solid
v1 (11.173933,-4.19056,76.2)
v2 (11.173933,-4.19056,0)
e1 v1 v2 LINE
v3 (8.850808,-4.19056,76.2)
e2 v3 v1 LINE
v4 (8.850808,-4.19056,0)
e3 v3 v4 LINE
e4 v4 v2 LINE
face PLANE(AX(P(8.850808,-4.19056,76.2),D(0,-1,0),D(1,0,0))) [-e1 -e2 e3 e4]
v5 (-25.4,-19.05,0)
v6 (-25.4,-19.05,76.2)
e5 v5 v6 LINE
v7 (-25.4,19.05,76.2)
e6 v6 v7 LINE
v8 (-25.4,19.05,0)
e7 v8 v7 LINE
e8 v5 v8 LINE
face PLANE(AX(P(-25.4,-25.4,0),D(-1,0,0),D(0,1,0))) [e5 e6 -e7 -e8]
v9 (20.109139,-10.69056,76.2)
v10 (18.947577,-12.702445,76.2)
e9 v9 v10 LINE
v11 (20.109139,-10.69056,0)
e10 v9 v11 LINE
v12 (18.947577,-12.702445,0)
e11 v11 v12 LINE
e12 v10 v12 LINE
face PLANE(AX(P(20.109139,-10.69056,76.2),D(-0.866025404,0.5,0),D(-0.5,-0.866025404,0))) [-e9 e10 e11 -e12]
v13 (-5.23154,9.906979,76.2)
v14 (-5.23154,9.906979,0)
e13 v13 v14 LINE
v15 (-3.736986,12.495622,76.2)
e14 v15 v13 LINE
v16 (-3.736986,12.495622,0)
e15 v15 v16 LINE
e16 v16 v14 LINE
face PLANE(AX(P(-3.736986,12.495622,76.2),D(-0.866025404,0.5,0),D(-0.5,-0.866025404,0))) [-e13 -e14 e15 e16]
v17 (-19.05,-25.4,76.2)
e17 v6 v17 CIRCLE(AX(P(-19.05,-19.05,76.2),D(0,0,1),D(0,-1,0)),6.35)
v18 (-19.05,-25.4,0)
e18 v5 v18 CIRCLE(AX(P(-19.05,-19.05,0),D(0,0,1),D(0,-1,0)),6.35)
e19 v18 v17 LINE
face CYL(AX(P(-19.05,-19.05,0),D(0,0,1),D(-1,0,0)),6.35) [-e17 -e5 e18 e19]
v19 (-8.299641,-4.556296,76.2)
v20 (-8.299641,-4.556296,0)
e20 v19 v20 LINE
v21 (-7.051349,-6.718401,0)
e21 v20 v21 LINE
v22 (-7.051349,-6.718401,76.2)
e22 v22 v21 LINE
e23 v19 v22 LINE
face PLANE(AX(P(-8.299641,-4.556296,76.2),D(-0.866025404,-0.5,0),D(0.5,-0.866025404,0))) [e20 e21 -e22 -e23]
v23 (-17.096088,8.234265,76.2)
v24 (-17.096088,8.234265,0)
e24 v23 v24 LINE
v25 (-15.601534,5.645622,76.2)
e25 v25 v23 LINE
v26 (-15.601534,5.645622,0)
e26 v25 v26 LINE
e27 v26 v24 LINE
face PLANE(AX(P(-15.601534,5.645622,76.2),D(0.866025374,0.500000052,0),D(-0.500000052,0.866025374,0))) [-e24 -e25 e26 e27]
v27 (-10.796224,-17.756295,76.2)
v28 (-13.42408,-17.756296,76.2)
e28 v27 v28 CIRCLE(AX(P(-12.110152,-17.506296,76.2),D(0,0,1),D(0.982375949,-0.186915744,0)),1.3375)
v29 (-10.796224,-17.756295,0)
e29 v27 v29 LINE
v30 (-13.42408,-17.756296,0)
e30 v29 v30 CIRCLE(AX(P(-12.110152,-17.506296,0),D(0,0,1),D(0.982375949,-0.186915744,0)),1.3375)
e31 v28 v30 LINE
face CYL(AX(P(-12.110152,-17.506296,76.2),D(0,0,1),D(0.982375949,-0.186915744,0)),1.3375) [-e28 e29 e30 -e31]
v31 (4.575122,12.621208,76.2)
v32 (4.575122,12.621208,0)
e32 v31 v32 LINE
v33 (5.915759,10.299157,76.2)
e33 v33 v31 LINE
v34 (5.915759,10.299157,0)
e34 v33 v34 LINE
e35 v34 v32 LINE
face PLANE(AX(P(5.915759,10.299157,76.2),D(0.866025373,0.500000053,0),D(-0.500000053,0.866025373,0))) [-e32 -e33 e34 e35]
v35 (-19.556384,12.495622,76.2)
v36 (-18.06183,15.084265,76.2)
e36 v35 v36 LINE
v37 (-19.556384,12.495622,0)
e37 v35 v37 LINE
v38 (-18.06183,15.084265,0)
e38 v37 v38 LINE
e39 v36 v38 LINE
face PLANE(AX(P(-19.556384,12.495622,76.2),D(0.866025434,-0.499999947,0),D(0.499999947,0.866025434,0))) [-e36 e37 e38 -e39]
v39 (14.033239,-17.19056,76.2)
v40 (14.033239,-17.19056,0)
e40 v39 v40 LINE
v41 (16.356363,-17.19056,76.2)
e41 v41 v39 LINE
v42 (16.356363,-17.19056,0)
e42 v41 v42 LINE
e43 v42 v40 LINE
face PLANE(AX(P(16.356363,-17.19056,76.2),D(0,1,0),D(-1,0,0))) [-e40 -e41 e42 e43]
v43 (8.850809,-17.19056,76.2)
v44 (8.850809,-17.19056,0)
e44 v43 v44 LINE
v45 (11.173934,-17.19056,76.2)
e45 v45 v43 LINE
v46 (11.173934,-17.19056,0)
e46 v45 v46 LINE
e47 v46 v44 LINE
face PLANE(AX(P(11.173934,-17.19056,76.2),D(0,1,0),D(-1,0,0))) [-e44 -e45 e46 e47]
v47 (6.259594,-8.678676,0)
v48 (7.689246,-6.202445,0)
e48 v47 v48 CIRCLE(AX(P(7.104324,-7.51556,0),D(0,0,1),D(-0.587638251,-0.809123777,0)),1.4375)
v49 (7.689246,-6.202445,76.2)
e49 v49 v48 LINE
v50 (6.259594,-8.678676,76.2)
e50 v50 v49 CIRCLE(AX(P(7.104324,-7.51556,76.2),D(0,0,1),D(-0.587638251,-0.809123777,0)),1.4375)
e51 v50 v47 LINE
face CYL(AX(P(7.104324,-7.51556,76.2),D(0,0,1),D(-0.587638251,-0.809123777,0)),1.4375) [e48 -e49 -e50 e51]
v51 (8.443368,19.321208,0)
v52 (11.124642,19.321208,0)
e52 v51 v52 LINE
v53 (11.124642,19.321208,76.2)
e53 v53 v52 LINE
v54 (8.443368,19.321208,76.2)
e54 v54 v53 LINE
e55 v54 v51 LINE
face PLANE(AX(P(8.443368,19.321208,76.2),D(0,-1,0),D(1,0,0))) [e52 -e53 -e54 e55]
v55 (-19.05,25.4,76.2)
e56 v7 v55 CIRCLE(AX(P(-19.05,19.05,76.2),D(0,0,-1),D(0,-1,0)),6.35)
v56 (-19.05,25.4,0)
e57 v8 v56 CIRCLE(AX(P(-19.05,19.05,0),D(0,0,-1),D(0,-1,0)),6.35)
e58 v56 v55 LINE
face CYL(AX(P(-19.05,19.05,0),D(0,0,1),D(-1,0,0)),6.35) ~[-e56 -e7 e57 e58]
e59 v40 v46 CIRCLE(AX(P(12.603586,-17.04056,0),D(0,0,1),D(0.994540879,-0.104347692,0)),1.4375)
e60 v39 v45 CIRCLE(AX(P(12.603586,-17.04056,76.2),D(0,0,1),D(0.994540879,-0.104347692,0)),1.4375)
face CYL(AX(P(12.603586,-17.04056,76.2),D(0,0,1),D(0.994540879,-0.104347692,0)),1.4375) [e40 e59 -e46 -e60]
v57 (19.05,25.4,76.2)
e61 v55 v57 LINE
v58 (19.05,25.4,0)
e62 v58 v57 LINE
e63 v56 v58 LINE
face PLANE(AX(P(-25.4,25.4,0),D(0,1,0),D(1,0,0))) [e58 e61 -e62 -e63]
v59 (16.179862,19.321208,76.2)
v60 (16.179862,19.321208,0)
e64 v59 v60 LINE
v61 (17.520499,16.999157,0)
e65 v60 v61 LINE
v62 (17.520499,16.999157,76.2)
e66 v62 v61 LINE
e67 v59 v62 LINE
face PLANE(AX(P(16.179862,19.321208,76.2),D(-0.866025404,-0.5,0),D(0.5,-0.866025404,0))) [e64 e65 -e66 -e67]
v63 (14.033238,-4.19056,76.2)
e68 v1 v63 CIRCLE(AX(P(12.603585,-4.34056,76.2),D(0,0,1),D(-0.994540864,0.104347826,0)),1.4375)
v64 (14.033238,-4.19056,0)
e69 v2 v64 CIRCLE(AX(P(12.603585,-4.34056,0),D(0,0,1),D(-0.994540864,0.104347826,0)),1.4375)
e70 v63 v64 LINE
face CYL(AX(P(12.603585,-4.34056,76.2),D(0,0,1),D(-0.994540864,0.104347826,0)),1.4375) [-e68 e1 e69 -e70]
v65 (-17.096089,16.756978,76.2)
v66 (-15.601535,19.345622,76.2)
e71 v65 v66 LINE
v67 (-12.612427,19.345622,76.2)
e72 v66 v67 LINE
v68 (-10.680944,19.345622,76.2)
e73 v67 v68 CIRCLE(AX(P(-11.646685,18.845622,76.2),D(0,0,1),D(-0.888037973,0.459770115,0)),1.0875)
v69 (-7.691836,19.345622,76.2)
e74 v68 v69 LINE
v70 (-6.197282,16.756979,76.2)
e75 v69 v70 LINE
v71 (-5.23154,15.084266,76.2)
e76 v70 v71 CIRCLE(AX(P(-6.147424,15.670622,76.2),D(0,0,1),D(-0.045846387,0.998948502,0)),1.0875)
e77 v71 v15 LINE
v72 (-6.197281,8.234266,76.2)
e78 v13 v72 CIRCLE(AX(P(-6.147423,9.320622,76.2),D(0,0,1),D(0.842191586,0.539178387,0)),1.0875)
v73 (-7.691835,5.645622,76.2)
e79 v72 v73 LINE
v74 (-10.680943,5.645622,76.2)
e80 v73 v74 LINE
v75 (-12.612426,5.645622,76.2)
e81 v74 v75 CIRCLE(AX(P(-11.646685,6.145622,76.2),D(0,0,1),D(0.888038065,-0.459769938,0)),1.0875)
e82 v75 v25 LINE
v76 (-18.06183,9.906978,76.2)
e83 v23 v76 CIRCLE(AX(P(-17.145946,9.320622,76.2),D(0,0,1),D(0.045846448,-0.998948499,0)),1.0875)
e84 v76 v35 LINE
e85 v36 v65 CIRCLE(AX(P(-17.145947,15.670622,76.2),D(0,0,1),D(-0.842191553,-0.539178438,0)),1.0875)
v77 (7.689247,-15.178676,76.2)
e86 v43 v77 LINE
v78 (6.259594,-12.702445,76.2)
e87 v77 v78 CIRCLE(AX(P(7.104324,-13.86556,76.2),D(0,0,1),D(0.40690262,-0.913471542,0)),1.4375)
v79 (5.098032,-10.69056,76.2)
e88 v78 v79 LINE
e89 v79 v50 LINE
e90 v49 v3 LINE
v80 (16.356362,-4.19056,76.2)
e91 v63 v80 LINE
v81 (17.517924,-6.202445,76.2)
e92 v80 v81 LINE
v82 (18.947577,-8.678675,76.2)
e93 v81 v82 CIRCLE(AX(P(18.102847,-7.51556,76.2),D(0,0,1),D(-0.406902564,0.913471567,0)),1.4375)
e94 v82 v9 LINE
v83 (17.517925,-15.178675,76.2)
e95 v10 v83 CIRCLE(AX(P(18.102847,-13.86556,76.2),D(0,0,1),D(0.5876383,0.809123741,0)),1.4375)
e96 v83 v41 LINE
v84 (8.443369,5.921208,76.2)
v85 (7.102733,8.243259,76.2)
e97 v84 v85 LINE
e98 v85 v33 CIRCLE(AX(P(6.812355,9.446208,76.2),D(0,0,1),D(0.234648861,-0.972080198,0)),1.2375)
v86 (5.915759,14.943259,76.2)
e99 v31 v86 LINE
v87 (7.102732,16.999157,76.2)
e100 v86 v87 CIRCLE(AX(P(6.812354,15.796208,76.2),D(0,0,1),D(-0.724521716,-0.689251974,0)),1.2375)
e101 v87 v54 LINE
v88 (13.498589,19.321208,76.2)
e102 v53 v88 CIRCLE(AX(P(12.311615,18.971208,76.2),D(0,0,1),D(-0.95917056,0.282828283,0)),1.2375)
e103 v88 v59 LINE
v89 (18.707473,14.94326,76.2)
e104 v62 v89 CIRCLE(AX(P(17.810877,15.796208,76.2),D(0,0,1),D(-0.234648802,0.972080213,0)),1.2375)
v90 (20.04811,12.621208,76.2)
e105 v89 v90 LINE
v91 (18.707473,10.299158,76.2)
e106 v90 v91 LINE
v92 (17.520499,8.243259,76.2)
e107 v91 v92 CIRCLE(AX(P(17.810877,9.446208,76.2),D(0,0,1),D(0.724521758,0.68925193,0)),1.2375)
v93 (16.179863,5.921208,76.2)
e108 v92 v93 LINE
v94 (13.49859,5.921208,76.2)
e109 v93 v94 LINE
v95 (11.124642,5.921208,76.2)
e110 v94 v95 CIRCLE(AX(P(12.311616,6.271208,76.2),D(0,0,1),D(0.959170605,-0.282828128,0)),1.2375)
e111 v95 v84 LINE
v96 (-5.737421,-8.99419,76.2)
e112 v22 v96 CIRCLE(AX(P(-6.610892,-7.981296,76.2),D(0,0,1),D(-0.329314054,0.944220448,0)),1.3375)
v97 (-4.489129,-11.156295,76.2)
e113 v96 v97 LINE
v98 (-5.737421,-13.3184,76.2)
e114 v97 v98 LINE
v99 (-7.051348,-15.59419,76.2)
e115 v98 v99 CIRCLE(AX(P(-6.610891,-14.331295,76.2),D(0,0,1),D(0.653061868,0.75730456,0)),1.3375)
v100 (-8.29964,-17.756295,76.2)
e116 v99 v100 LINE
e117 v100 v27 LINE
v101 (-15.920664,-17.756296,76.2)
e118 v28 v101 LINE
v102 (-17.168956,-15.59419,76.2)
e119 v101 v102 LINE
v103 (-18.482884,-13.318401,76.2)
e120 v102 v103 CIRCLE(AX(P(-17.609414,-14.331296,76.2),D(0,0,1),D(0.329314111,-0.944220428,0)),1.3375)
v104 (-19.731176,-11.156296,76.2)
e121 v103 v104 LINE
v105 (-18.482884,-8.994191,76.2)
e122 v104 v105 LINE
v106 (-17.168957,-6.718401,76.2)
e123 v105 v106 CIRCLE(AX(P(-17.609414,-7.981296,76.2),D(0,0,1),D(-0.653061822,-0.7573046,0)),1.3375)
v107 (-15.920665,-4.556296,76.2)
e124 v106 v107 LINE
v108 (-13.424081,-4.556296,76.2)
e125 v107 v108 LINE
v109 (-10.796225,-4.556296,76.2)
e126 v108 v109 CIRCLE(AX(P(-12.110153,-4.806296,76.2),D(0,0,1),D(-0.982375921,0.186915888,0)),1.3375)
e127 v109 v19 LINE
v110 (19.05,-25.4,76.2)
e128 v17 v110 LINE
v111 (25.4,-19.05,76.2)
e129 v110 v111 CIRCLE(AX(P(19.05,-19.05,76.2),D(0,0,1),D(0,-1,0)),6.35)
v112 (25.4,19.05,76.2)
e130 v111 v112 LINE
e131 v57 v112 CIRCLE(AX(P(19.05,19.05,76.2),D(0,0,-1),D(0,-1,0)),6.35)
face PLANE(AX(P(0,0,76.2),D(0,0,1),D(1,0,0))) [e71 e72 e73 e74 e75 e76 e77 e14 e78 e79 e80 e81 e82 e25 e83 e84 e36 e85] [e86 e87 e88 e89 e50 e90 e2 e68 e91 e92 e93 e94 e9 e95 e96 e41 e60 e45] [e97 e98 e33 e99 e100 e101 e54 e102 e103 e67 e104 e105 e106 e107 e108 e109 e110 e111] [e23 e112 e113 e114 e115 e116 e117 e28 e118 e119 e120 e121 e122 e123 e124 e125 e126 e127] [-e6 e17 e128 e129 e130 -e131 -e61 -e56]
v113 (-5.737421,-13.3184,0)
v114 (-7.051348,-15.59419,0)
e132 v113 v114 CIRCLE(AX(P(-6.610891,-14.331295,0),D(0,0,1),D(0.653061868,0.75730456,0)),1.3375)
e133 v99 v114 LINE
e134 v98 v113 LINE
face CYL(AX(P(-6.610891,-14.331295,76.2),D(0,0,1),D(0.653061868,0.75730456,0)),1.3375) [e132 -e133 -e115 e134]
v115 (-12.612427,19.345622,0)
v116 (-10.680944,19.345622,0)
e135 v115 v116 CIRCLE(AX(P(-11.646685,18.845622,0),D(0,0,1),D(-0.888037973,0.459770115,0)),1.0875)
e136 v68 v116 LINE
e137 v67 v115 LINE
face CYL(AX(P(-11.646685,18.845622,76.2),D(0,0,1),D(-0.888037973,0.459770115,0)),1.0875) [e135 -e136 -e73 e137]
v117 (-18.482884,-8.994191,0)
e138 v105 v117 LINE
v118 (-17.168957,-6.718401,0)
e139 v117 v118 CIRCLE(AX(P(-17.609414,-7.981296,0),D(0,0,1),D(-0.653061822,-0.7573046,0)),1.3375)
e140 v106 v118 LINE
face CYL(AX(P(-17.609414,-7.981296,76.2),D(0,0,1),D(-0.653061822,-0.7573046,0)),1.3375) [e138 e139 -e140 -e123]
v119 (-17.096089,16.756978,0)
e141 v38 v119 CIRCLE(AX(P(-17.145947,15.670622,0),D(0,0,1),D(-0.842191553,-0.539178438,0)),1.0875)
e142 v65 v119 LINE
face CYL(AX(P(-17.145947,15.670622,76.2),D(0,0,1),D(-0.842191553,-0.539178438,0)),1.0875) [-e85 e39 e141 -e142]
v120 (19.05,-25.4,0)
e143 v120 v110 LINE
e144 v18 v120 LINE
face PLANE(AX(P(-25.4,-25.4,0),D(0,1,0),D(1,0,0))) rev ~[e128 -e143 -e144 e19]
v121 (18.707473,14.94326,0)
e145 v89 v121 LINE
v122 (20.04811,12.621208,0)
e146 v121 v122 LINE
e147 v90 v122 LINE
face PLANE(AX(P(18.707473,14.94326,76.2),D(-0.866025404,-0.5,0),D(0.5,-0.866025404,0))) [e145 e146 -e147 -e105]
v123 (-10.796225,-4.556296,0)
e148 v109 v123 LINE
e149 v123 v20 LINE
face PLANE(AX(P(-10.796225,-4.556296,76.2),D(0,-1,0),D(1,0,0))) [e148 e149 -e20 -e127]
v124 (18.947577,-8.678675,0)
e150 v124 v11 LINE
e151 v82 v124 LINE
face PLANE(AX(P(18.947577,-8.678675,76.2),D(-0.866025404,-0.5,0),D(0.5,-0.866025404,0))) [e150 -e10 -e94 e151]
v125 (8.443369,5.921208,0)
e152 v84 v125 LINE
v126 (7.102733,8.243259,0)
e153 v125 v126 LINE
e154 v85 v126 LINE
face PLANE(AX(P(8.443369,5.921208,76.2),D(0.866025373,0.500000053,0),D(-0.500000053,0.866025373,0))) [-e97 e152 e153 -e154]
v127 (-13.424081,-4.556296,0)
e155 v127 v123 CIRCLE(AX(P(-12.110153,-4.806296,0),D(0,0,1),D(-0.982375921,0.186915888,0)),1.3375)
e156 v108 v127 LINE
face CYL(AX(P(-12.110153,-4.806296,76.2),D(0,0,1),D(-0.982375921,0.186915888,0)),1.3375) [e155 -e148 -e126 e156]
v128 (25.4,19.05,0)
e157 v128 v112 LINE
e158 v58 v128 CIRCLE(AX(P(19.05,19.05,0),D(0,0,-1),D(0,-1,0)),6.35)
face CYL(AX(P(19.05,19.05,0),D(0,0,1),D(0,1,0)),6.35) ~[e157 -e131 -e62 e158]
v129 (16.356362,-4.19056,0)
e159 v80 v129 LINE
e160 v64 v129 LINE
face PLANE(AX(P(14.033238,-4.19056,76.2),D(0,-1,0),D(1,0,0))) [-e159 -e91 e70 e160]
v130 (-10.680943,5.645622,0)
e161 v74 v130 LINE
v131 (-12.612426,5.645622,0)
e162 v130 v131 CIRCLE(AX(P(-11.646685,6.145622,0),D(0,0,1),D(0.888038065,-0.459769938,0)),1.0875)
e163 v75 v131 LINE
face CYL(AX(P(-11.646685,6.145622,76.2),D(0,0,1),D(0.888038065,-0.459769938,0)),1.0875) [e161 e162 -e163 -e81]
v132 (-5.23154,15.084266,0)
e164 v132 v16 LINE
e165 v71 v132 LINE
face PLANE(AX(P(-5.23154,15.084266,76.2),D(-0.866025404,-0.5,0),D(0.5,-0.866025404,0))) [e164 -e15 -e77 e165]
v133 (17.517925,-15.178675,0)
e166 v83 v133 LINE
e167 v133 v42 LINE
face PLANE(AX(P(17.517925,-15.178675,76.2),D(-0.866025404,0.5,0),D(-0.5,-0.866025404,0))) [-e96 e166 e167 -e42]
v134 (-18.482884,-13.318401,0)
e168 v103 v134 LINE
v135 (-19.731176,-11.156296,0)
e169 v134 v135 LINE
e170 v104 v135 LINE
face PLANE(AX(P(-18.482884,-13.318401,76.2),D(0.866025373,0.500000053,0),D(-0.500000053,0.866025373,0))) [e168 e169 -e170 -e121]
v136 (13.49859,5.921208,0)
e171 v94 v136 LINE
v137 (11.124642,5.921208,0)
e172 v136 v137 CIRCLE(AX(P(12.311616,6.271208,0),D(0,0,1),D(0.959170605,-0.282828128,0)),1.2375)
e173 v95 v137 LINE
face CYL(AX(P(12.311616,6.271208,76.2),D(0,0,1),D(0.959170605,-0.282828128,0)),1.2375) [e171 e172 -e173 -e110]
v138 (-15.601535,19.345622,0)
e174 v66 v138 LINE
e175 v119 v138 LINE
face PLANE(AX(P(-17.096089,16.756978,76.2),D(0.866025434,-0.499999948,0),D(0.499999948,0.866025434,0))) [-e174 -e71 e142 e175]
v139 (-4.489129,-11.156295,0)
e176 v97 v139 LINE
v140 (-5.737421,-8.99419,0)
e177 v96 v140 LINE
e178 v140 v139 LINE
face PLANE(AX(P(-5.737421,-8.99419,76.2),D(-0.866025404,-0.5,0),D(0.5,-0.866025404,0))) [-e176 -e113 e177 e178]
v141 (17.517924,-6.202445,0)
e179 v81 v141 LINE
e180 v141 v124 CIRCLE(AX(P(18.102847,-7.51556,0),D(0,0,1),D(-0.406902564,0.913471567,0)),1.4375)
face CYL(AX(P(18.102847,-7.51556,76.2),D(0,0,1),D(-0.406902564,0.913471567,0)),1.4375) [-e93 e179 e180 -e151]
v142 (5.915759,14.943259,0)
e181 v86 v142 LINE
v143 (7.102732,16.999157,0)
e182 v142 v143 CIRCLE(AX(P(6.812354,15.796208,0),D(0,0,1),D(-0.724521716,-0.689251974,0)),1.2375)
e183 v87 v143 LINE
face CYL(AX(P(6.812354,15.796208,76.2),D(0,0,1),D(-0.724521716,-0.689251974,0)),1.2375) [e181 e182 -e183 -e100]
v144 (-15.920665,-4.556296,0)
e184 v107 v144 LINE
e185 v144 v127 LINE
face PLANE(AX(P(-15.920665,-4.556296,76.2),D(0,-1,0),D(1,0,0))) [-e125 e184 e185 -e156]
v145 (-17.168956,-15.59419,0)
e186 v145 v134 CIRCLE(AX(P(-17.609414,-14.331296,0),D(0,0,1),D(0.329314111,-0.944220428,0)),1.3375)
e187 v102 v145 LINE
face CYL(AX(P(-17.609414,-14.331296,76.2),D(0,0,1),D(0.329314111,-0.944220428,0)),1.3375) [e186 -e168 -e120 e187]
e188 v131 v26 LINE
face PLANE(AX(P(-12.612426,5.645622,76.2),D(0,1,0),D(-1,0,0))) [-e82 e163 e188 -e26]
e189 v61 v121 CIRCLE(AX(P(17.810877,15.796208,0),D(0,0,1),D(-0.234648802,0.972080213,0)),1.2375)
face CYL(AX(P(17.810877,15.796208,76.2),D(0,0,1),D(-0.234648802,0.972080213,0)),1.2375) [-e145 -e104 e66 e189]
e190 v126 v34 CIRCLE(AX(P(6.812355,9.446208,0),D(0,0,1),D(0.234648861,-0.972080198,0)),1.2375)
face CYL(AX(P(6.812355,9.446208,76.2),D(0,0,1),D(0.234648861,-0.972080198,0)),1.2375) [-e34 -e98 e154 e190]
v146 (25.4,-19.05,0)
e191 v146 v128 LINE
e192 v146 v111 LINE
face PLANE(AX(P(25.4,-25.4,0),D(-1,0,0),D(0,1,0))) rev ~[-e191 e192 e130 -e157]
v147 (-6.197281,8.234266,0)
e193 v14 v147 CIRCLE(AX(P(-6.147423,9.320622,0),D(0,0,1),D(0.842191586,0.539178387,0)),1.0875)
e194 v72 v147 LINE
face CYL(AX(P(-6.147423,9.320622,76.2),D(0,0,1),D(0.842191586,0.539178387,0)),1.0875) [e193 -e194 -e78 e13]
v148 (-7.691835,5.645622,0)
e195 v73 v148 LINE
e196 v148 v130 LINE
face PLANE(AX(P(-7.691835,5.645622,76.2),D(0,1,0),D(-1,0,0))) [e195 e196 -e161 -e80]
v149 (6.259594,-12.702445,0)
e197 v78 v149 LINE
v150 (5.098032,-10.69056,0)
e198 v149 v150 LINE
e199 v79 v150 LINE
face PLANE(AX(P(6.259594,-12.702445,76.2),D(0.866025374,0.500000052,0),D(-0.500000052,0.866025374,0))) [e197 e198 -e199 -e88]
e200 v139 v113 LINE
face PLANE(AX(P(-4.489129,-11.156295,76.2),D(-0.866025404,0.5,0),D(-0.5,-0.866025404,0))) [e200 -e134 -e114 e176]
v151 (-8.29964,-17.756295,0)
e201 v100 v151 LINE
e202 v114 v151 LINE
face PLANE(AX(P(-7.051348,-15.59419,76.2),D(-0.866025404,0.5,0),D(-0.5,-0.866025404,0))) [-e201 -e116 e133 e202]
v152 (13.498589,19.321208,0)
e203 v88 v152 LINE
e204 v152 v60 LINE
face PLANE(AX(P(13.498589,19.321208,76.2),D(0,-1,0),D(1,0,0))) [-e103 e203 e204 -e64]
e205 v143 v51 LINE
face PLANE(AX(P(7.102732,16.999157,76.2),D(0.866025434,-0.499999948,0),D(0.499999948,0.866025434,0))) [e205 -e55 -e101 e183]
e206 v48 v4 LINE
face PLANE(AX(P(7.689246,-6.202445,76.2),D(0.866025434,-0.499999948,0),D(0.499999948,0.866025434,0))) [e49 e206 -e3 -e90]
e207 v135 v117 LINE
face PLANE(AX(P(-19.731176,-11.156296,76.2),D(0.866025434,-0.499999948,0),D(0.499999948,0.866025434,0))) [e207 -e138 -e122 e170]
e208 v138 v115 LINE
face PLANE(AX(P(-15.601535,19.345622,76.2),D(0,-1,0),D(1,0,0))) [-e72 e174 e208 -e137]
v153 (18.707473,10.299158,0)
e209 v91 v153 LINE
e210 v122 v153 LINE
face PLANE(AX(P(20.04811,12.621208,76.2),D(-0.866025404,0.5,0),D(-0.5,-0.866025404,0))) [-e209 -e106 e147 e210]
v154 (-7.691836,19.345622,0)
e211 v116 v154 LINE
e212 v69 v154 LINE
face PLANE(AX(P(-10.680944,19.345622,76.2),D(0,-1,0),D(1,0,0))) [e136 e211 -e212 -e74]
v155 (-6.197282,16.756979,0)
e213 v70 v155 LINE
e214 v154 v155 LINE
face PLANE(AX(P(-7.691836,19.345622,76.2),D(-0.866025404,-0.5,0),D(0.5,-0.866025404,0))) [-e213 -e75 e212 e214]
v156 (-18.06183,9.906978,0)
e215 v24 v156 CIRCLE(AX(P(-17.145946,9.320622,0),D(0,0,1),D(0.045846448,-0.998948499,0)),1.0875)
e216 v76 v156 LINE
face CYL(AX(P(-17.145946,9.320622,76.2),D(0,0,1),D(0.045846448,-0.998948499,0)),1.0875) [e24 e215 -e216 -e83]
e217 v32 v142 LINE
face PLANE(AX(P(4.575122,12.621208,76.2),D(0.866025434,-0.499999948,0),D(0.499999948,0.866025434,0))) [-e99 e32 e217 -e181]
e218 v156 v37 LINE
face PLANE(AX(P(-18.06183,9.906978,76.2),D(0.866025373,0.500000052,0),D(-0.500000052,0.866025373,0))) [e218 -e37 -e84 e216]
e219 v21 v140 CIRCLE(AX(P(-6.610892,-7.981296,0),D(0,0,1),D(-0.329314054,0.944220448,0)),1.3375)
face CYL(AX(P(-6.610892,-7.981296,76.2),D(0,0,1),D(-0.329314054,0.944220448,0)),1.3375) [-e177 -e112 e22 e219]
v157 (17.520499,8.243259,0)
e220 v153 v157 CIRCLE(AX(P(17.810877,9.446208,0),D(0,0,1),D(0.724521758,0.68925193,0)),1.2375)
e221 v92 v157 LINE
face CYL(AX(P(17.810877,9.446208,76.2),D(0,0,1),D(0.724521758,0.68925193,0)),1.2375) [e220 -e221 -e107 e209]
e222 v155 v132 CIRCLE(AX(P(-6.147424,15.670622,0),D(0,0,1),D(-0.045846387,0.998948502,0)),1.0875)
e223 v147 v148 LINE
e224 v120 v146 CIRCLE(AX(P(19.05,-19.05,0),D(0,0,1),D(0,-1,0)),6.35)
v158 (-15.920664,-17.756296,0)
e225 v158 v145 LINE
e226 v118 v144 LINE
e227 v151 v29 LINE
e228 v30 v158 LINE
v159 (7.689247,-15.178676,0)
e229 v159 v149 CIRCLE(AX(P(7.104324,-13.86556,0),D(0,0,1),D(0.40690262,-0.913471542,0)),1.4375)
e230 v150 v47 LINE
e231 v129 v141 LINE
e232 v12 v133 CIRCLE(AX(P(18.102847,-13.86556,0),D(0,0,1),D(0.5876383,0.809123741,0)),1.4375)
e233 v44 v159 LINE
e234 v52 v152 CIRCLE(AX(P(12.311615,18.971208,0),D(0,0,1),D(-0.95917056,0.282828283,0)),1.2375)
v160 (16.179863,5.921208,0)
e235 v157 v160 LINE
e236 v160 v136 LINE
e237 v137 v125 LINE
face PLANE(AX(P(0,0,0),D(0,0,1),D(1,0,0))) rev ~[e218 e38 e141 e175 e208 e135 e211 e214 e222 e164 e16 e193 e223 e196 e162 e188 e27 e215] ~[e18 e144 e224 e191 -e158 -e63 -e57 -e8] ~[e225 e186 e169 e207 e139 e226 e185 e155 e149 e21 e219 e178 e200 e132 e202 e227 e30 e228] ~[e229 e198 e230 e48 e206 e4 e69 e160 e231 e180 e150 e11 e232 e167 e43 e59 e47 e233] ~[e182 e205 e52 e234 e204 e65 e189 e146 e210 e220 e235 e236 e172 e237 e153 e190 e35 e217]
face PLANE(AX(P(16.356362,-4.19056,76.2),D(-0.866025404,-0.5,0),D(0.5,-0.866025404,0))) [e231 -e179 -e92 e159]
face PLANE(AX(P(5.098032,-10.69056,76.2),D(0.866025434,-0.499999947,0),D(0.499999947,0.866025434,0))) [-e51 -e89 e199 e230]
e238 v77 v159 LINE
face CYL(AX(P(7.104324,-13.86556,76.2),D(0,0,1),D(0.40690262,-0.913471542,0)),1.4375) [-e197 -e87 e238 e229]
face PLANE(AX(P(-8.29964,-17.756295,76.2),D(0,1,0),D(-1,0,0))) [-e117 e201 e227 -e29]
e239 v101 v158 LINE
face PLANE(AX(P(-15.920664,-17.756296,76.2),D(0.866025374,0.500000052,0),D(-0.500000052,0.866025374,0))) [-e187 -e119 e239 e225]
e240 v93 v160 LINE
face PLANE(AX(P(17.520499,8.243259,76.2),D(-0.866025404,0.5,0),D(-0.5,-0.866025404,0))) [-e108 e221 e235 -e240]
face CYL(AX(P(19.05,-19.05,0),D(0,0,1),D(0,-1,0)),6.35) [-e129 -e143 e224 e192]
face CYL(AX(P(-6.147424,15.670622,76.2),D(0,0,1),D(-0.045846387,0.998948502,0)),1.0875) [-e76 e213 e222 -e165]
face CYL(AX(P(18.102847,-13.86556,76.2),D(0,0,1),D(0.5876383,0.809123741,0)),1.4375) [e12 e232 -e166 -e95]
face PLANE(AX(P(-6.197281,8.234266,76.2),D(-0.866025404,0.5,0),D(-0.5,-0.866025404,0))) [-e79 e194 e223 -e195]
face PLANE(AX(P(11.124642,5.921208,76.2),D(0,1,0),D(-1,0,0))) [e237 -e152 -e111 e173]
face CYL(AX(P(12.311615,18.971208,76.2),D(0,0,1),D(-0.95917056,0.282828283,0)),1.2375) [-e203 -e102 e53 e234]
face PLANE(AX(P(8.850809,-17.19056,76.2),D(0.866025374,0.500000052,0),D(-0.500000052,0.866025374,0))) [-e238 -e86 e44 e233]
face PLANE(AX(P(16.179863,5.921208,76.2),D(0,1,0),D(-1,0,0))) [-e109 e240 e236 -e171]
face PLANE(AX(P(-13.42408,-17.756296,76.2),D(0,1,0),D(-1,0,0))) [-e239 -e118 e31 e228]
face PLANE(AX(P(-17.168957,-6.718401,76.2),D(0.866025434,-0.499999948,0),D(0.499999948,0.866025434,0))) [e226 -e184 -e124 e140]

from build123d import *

# Parameters (mm, degrees)
SKETCH1_W               = 50.8
SKETCH1_H               = 50.8
BOSS_EXTRUDE1_DEPTH     = 76.2
CUT_EXTRUDE_THIN1_DEPTH = 76.2
CUT_EXTRUDE_THIN3_DEPTH = 76.2
CUT_EXTRUDE_THIN4_DEPTH = 76.2
CUT_EXTRUDE_THIN5_DEPTH = 76.2
FILLET1_R               = 6.35


with BuildPart() as part:
    # Sketch1 → Boss-Extrude1 (new body)
    with BuildSketch(Plane.XY):
        Rectangle(SKETCH1_W, SKETCH1_H)
    extrude(amount=BOSS_EXTRUDE1_DEPTH)

    # Sketch3 → Cut-Extrude-Thin1 (cut)
    with BuildSketch(Plane.XY.offset(76.2)):
        with BuildLine():
            Line((-12.612425978, 5.645622006), (-15.601534006, 5.645622006))
            Line((-15.601534006, 5.645622006), (-17.096088177, 8.234265403))
            ThreePointArc((-17.096088177, 8.234265403), (-16.204143595, 9.864371952), (-18.061829574, 9.906978335))
            Line((-18.061829574, 9.906978335), (-19.556383755, 12.495621749))
            Line((-19.556383755, 12.495621749), (-18.061829888, 15.084265344))
            ThreePointArc((-18.061829888, 15.084265344), (-16.204143914, 15.126871952), (-17.096088694, 16.756978394))
            Line((-17.096088694, 16.756978394), (-15.601534816, 19.345622006))
            Line((-15.601534816, 19.345622006), (-12.612426748, 19.345622006))
            ThreePointArc((-12.612426748, 19.345622006), (-11.646685452, 17.758122006), (-10.680944156, 19.345622006))
            Line((-10.680944156, 19.345622006), (-7.691836108, 19.345622006))
            Line((-7.691836108, 19.345622006), (-6.197282084, 16.756978502))
            ThreePointArc((-6.197282084, 16.756978502), (-7.08922655, 15.126871634), (-5.231540325, 15.084266234))
            Line((-5.231540325, 15.084266234), (-3.736985995, 12.495622199))
            Line((-3.736985995, 12.495622199), (-5.231540019, 9.906978694))
            ThreePointArc((-5.231540019, 9.906978694), (-7.089225995, 9.864372199), (-6.197281314, 8.234265703))
            Line((-6.197281314, 8.234265703), (-7.691835339, 5.645622199))
            Line((-7.691835339, 5.645622199), (-10.680943287, 5.645622199))
            ThreePointArc((-10.680943287, 5.645622199), (-11.646684791, 7.233122006), (-12.612425978, 5.645622006))
        make_face()
        with BuildLine():
            Line((-13.234184683, 6.145622006), (-15.312858892, 6.145622006))
            Line((-15.312858892, 6.145622006), (-16.352196106, 7.945806615))
            ThreePointArc((-16.352196106, 7.945806615), (-15.771130909, 10.114371978), (-17.939696272, 10.695437176))
            Line((-17.939696272, 10.695437176), (-18.979033486, 12.495621784))
            Line((-18.979033486, 12.495621784), (-17.93969649, 14.295806519))
            ThreePointArc((-17.93969649, 14.295806519), (-15.771131197, 14.876871978), (-16.352196657, 17.045437272))
            Line((-16.352196657, 17.045437272), (-15.312859661, 18.845622006))
            Line((-15.312859661, 18.845622006), (-13.234185452, 18.845622006))
            ThreePointArc((-13.234185452, 18.845622006), (-11.646685452, 17.258122006), (-10.059185452, 18.845622006))
            Line((-10.059185452, 18.845622006), (-7.980511243, 18.845622006))
            Line((-7.980511243, 18.845622006), (-6.941174138, 17.045437335))
            ThreePointArc((-6.941174138, 17.045437335), (-7.522239276, 14.876871676), (-5.353673478, 14.295807059))
            Line((-5.353673478, 14.295807059), (-4.314336264, 12.495622199))
            Line((-4.314336264, 12.495622199), (-5.353673369, 10.695437527))
            ThreePointArc((-5.353673369, 10.695437527), (-7.522238697, 10.114372199), (-6.941173369, 7.94580687))
            Line((-6.941173369, 7.94580687), (-7.980510473, 6.145622199))
            Line((-7.980510473, 6.145622199), (-10.059184683, 6.145622199))
            ThreePointArc((-10.059184683, 6.145622199), (-11.646684779, 7.733122006), (-13.234184683, 6.145622006))
        make_face(mode=Mode.SUBTRACT)
    extrude(amount=-CUT_EXTRUDE_THIN1_DEPTH, mode=Mode.SUBTRACT)


with BuildPart() as body_2:
    # of the pieces the cut leaves, the one that is kept (cut_extrude_thin1_keep)
    add(part.part.solids().sort_by_distance((-25.4, 25.4, 0))[0])

    # Sketch8 → Cut-Extrude-Thin3 (cut)
    with BuildSketch(Plane.XY.offset(76.2)):
        with BuildLine():
            Line((11.124642482, 5.92120821), (8.443369261, 5.92120821))
            Line((8.443369261, 5.92120821), (7.102732509, 8.243258853))
            ThreePointArc((7.102732509, 8.243258853), (7.884060943, 10.064958164), (5.915758817, 10.299157308))
            Line((5.915758817, 10.299157308), (4.575122058, 12.621207963))
            Line((4.575122058, 12.621207963), (5.915758536, 14.943258781))
            ThreePointArc((5.915758536, 14.943258781), (7.884060634, 15.177458164), (7.102731978, 16.99915738))
            Line((7.102731978, 16.99915738), (8.443368463, 19.32120821))
            Line((8.443368463, 19.32120821), (11.124641713, 19.32120821))
            ThreePointArc((11.124641713, 19.32120821), (12.311615281, 17.73370821), (13.498588848, 19.32120821))
            Line((13.498588848, 19.32120821), (16.179862084, 19.32120821))
            Line((16.179862084, 19.32120821), (17.520498702, 16.999157473))
            ThreePointArc((17.520498702, 16.999157473), (16.739170356, 15.177457866), (18.707472818, 14.943259523))
            Line((18.707472818, 14.943259523), (20.048109657, 12.621208402))
            Line((20.048109657, 12.621208402), (18.707473039, 10.299157665))
            ThreePointArc((18.707473039, 10.299157665), (16.739170927, 10.064958402), (17.520499472, 8.243259139))
            Line((17.520499472, 8.243259139), (16.179862854, 5.921208402))
            Line((16.179862854, 5.921208402), (13.498589674, 5.921208402))
            ThreePointArc((13.498589674, 5.921208402), (12.31161595, 7.50870821), (11.124642482, 5.92120821))
        make_face()
        with BuildLine():
            Line((10.72411605, 6.27120821), (8.645441841, 6.27120821))
            Line((8.645441841, 6.27120821), (7.606104627, 8.071392818))
            ThreePointArc((7.606104627, 8.071392818), (8.187169824, 10.239958182), (6.01860446, 10.821023379))
            Line((6.01860446, 10.821023379), (4.979267247, 12.621207988))
            Line((4.979267247, 12.621207988), (6.018604242, 14.421392722))
            ThreePointArc((6.018604242, 14.421392722), (8.187169536, 15.002458182), (7.606104076, 17.171023475))
            Line((7.606104076, 17.171023475), (8.645441071, 18.97120821))
            Line((8.645441071, 18.97120821), (10.724115281, 18.97120821))
            ThreePointArc((10.724115281, 18.97120821), (12.311615281, 17.38370821), (13.899115281, 18.97120821))
            Line((13.899115281, 18.97120821), (15.97778949, 18.97120821))
            Line((15.97778949, 18.97120821), (17.017126595, 17.171023538))
            ThreePointArc((17.017126595, 17.171023538), (16.436061457, 15.00245788), (18.604627255, 14.421393263))
            Line((18.604627255, 14.421393263), (19.643964469, 12.621208402))
            Line((19.643964469, 12.621208402), (18.604627364, 10.821023731))
            ThreePointArc((18.604627364, 10.821023731), (16.436062036, 10.239958402), (17.017127364, 8.071393074))
            Line((17.017127364, 8.071393074), (15.977790259, 6.271208402))
            Line((15.977790259, 6.271208402), (13.89911605, 6.271208402))
            ThreePointArc((13.89911605, 6.271208402), (12.311615954, 7.85870821), (10.72411605, 6.27120821))
        make_face(mode=Mode.SUBTRACT)
    extrude(amount=-CUT_EXTRUDE_THIN3_DEPTH, mode=Mode.SUBTRACT)


with BuildPart() as body_2_2:
    # of the pieces the cut leaves, the one that is kept (cut_extrude_thin3_keep)
    add(body_2.part.solids().sort_by_distance((-25.4, 25.4, 0))[0])

    # Sketch7 → Cut-Extrude-Thin4 (cut)
    with BuildSketch(Plane.XY.offset(76.2)):
        with BuildLine():
            Line((-13.424079874, -17.756295509), (-15.920663846, -17.756295509))
            Line((-15.920663846, -17.756295509), (-17.168955962, -15.594190442))
            ThreePointArc((-17.168955962, -15.594190442), (-16.451104648, -13.662545549), (-18.482883895, -13.318400823))
            Line((-18.482883895, -13.318400823), (-19.731176017, -11.156295748))
            Line((-19.731176017, -11.156295748), (-18.482884157, -8.994190522))
            ThreePointArc((-18.482884157, -8.994190522), (-16.451104952, -8.650045549), (-17.1689565, -6.718400744))
            Line((-17.1689565, -6.718400744), (-15.920664635, -4.556295509))
            Line((-15.920664635, -4.556295509), (-13.424080643, -4.556295509))
            ThreePointArc((-13.424080643, -4.556295509), (-12.110152848, -6.143795509), (-10.796225054, -4.556295509))
            Line((-10.796225054, -4.556295509), (-8.299641072, -4.556295509))
            Line((-8.299641072, -4.556295509), (-7.051349081, -6.71840066))
            ThreePointArc((-7.051349081, -6.71840066), (-7.769200318, -8.650045845), (-5.737420698, -8.994189851))
            Line((-5.737420698, -8.994189851), (-4.489128526, -11.156295316))
            Line((-4.489128526, -11.156295316), (-5.737420517, -13.318400467))
            ThreePointArc((-5.737420517, -13.318400467), (-7.769199743, -13.662545316), (-7.051348312, -15.594190165))
            Line((-7.051348312, -15.594190165), (-8.299640302, -17.756295316))
            Line((-8.299640302, -17.756295316), (-10.796224248, -17.756295316))
            ThreePointArc((-10.796224248, -17.756295316), (-12.110152177, -16.168795509), (-13.424079874, -17.756295509))
        make_face()
        with BuildLine():
            Line((-13.697652079, -17.506295509), (-15.776326288, -17.506295509))
            Line((-15.776326288, -17.506295509), (-16.815663502, -15.7061109))
            ThreePointArc((-16.815663502, -15.7061109), (-16.234598305, -13.537545536), (-18.403163669, -12.956480339))
            Line((-18.403163669, -12.956480339), (-19.442500882, -11.156295731))
            Line((-19.442500882, -11.156295731), (-18.403163887, -9.356110996))
            ThreePointArc((-18.403163887, -9.356110996), (-16.234598594, -8.775045536), (-16.815664053, -6.606480243))
            Line((-16.815664053, -6.606480243), (-15.776327058, -4.806295509))
            Line((-15.776327058, -4.806295509), (-13.697652848, -4.806295509))
            ThreePointArc((-13.697652848, -4.806295509), (-12.110152848, -6.393795509), (-10.522652848, -4.806295509))
            Line((-10.522652848, -4.806295509), (-8.443978639, -4.806295509))
            Line((-8.443978639, -4.806295509), (-7.404641534, -6.60648018))
            ThreePointArc((-7.404641534, -6.60648018), (-7.985706672, -8.775045839), (-5.817140874, -9.356110456))
            Line((-5.817140874, -9.356110456), (-4.77780366, -11.156295316))
            Line((-4.77780366, -11.156295316), (-5.817140765, -12.956479988))
            ThreePointArc((-5.817140765, -12.956479988), (-7.985706094, -13.537545316), (-7.404640765, -15.706110645))
            Line((-7.404640765, -15.706110645), (-8.44397787, -17.506295316))
            Line((-8.44397787, -17.506295316), (-10.522652079, -17.506295316))
            ThreePointArc((-10.522652079, -17.506295316), (-12.110152175, -15.918795509), (-13.697652079, -17.506295509))
        make_face(mode=Mode.SUBTRACT)
    extrude(amount=-CUT_EXTRUDE_THIN4_DEPTH, mode=Mode.SUBTRACT)


with BuildPart() as body_2_3:
    # of the pieces the cut leaves, the one that is kept (cut_extrude_thin4_keep)
    add(body_2_2.part.solids().sort_by_distance((-25.4, 25.4, 0))[0])

    # Sketch9 → Cut-Extrude-Thin5 (cut)
    with BuildSketch(Plane.XY.offset(76.2)):
        with BuildLine():
            Line((11.173933507, -17.190560255), (8.850809256, -17.190560255))
            Line((8.850809256, -17.190560255), (7.689247009, -15.178675708))
            ThreePointArc((7.689247009, -15.178675708), (8.349235968, -13.146810291), (6.259594366, -12.70244504))
            Line((6.259594366, -12.70244504), (5.098032116, -10.690560488))
            Line((5.098032116, -10.690560488), (6.259594122, -8.678675795))
            ThreePointArc((6.259594122, -8.678675795), (8.34923567, -8.234310291), (7.689246465, -6.202444953))
            Line((7.689246465, -6.202444953), (8.850808475, -4.190560255))
            Line((8.850808475, -4.190560255), (11.173932738, -4.190560255))
            ThreePointArc((11.173932738, -4.190560255), (12.60358523, -5.778060255), (14.033237723, -4.190560255))
            Line((14.033237723, -4.190560255), (16.35636198, -4.190560255))
            Line((16.35636198, -4.190560255), (17.517924109, -6.202444878))
            ThreePointArc((17.517924109, -6.202444878), (16.857935218, -8.234310587), (18.947577222, -8.678675182))
            Line((18.947577222, -8.678675182), (20.109139499, -10.690560063))
            Line((20.109139499, -10.690560063), (18.947577371, -12.702444685))
            ThreePointArc((18.947577371, -12.702444685), (16.857935796, -13.146810063), (17.517924878, -15.17867544))
            Line((17.517924878, -15.17867544), (16.35636275, -17.190560063))
            Line((16.35636275, -17.190560063), (14.033238513, -17.190560063))
            ThreePointArc((14.033238513, -17.190560063), (12.603585903, -15.603060255), (11.173933507, -17.190560255))
        make_face()
        with BuildLine():
            Line((11.016086, -17.040560255), (8.93741179, -17.040560255))
            Line((8.93741179, -17.040560255), (7.898074577, -15.240375647))
            ThreePointArc((7.898074577, -15.240375647), (8.479139774, -13.071810283), (6.31057441, -12.490745086))
            Line((6.31057441, -12.490745086), (5.271237196, -10.690560477))
            Line((5.271237196, -10.690560477), (6.310574192, -8.890375743))
            ThreePointArc((6.310574192, -8.890375743), (8.479139485, -8.309310283), (7.898074025, -6.14074499))
            Line((7.898074025, -6.14074499), (8.937411021, -4.340560255))
            Line((8.937411021, -4.340560255), (11.01608523, -4.340560255))
            ThreePointArc((11.01608523, -4.340560255), (12.60358523, -5.928060255), (14.19108523, -4.340560255))
            Line((14.19108523, -4.340560255), (16.26975944, -4.340560255))
            Line((16.26975944, -4.340560255), (17.309096544, -6.140744927))
            ThreePointArc((17.309096544, -6.140744927), (16.728031407, -8.309310585), (18.896597205, -8.890375202))
            Line((18.896597205, -8.890375202), (19.935934418, -10.690560063))
            Line((19.935934418, -10.690560063), (18.896597314, -12.490744734))
            ThreePointArc((18.896597314, -12.490744734), (16.728031985, -13.071810063), (17.309097314, -15.240375391))
            Line((17.309097314, -15.240375391), (16.269760209, -17.040560063))
            Line((16.269760209, -17.040560063), (14.191086, -17.040560063))
            ThreePointArc((14.191086, -17.040560063), (12.603585904, -15.453060255), (11.016086, -17.040560255))
        make_face(mode=Mode.SUBTRACT)
    extrude(amount=-CUT_EXTRUDE_THIN5_DEPTH, mode=Mode.SUBTRACT)


with BuildPart() as body_2_4:
    # of the pieces the cut leaves, the one that is kept (cut_extrude_thin5_keep)
    add(body_2_3.part.solids().sort_by_distance((-25.4, 25.4, 0))[0])

    # Fillet1
    fillet1_edges = [body_2_4.edges().sort_by_distance(p)[0] for p in [
        (25.4, -25.4, 38.1),
        (25.4, 25.4, 38.1),
        (-25.4, 25.4, 38.1),
        (-25.4, -25.4, 38.1),
    ]]
    fillet(fillet1_edges, radius=FILLET1_R)


solid = body_2_4.part
